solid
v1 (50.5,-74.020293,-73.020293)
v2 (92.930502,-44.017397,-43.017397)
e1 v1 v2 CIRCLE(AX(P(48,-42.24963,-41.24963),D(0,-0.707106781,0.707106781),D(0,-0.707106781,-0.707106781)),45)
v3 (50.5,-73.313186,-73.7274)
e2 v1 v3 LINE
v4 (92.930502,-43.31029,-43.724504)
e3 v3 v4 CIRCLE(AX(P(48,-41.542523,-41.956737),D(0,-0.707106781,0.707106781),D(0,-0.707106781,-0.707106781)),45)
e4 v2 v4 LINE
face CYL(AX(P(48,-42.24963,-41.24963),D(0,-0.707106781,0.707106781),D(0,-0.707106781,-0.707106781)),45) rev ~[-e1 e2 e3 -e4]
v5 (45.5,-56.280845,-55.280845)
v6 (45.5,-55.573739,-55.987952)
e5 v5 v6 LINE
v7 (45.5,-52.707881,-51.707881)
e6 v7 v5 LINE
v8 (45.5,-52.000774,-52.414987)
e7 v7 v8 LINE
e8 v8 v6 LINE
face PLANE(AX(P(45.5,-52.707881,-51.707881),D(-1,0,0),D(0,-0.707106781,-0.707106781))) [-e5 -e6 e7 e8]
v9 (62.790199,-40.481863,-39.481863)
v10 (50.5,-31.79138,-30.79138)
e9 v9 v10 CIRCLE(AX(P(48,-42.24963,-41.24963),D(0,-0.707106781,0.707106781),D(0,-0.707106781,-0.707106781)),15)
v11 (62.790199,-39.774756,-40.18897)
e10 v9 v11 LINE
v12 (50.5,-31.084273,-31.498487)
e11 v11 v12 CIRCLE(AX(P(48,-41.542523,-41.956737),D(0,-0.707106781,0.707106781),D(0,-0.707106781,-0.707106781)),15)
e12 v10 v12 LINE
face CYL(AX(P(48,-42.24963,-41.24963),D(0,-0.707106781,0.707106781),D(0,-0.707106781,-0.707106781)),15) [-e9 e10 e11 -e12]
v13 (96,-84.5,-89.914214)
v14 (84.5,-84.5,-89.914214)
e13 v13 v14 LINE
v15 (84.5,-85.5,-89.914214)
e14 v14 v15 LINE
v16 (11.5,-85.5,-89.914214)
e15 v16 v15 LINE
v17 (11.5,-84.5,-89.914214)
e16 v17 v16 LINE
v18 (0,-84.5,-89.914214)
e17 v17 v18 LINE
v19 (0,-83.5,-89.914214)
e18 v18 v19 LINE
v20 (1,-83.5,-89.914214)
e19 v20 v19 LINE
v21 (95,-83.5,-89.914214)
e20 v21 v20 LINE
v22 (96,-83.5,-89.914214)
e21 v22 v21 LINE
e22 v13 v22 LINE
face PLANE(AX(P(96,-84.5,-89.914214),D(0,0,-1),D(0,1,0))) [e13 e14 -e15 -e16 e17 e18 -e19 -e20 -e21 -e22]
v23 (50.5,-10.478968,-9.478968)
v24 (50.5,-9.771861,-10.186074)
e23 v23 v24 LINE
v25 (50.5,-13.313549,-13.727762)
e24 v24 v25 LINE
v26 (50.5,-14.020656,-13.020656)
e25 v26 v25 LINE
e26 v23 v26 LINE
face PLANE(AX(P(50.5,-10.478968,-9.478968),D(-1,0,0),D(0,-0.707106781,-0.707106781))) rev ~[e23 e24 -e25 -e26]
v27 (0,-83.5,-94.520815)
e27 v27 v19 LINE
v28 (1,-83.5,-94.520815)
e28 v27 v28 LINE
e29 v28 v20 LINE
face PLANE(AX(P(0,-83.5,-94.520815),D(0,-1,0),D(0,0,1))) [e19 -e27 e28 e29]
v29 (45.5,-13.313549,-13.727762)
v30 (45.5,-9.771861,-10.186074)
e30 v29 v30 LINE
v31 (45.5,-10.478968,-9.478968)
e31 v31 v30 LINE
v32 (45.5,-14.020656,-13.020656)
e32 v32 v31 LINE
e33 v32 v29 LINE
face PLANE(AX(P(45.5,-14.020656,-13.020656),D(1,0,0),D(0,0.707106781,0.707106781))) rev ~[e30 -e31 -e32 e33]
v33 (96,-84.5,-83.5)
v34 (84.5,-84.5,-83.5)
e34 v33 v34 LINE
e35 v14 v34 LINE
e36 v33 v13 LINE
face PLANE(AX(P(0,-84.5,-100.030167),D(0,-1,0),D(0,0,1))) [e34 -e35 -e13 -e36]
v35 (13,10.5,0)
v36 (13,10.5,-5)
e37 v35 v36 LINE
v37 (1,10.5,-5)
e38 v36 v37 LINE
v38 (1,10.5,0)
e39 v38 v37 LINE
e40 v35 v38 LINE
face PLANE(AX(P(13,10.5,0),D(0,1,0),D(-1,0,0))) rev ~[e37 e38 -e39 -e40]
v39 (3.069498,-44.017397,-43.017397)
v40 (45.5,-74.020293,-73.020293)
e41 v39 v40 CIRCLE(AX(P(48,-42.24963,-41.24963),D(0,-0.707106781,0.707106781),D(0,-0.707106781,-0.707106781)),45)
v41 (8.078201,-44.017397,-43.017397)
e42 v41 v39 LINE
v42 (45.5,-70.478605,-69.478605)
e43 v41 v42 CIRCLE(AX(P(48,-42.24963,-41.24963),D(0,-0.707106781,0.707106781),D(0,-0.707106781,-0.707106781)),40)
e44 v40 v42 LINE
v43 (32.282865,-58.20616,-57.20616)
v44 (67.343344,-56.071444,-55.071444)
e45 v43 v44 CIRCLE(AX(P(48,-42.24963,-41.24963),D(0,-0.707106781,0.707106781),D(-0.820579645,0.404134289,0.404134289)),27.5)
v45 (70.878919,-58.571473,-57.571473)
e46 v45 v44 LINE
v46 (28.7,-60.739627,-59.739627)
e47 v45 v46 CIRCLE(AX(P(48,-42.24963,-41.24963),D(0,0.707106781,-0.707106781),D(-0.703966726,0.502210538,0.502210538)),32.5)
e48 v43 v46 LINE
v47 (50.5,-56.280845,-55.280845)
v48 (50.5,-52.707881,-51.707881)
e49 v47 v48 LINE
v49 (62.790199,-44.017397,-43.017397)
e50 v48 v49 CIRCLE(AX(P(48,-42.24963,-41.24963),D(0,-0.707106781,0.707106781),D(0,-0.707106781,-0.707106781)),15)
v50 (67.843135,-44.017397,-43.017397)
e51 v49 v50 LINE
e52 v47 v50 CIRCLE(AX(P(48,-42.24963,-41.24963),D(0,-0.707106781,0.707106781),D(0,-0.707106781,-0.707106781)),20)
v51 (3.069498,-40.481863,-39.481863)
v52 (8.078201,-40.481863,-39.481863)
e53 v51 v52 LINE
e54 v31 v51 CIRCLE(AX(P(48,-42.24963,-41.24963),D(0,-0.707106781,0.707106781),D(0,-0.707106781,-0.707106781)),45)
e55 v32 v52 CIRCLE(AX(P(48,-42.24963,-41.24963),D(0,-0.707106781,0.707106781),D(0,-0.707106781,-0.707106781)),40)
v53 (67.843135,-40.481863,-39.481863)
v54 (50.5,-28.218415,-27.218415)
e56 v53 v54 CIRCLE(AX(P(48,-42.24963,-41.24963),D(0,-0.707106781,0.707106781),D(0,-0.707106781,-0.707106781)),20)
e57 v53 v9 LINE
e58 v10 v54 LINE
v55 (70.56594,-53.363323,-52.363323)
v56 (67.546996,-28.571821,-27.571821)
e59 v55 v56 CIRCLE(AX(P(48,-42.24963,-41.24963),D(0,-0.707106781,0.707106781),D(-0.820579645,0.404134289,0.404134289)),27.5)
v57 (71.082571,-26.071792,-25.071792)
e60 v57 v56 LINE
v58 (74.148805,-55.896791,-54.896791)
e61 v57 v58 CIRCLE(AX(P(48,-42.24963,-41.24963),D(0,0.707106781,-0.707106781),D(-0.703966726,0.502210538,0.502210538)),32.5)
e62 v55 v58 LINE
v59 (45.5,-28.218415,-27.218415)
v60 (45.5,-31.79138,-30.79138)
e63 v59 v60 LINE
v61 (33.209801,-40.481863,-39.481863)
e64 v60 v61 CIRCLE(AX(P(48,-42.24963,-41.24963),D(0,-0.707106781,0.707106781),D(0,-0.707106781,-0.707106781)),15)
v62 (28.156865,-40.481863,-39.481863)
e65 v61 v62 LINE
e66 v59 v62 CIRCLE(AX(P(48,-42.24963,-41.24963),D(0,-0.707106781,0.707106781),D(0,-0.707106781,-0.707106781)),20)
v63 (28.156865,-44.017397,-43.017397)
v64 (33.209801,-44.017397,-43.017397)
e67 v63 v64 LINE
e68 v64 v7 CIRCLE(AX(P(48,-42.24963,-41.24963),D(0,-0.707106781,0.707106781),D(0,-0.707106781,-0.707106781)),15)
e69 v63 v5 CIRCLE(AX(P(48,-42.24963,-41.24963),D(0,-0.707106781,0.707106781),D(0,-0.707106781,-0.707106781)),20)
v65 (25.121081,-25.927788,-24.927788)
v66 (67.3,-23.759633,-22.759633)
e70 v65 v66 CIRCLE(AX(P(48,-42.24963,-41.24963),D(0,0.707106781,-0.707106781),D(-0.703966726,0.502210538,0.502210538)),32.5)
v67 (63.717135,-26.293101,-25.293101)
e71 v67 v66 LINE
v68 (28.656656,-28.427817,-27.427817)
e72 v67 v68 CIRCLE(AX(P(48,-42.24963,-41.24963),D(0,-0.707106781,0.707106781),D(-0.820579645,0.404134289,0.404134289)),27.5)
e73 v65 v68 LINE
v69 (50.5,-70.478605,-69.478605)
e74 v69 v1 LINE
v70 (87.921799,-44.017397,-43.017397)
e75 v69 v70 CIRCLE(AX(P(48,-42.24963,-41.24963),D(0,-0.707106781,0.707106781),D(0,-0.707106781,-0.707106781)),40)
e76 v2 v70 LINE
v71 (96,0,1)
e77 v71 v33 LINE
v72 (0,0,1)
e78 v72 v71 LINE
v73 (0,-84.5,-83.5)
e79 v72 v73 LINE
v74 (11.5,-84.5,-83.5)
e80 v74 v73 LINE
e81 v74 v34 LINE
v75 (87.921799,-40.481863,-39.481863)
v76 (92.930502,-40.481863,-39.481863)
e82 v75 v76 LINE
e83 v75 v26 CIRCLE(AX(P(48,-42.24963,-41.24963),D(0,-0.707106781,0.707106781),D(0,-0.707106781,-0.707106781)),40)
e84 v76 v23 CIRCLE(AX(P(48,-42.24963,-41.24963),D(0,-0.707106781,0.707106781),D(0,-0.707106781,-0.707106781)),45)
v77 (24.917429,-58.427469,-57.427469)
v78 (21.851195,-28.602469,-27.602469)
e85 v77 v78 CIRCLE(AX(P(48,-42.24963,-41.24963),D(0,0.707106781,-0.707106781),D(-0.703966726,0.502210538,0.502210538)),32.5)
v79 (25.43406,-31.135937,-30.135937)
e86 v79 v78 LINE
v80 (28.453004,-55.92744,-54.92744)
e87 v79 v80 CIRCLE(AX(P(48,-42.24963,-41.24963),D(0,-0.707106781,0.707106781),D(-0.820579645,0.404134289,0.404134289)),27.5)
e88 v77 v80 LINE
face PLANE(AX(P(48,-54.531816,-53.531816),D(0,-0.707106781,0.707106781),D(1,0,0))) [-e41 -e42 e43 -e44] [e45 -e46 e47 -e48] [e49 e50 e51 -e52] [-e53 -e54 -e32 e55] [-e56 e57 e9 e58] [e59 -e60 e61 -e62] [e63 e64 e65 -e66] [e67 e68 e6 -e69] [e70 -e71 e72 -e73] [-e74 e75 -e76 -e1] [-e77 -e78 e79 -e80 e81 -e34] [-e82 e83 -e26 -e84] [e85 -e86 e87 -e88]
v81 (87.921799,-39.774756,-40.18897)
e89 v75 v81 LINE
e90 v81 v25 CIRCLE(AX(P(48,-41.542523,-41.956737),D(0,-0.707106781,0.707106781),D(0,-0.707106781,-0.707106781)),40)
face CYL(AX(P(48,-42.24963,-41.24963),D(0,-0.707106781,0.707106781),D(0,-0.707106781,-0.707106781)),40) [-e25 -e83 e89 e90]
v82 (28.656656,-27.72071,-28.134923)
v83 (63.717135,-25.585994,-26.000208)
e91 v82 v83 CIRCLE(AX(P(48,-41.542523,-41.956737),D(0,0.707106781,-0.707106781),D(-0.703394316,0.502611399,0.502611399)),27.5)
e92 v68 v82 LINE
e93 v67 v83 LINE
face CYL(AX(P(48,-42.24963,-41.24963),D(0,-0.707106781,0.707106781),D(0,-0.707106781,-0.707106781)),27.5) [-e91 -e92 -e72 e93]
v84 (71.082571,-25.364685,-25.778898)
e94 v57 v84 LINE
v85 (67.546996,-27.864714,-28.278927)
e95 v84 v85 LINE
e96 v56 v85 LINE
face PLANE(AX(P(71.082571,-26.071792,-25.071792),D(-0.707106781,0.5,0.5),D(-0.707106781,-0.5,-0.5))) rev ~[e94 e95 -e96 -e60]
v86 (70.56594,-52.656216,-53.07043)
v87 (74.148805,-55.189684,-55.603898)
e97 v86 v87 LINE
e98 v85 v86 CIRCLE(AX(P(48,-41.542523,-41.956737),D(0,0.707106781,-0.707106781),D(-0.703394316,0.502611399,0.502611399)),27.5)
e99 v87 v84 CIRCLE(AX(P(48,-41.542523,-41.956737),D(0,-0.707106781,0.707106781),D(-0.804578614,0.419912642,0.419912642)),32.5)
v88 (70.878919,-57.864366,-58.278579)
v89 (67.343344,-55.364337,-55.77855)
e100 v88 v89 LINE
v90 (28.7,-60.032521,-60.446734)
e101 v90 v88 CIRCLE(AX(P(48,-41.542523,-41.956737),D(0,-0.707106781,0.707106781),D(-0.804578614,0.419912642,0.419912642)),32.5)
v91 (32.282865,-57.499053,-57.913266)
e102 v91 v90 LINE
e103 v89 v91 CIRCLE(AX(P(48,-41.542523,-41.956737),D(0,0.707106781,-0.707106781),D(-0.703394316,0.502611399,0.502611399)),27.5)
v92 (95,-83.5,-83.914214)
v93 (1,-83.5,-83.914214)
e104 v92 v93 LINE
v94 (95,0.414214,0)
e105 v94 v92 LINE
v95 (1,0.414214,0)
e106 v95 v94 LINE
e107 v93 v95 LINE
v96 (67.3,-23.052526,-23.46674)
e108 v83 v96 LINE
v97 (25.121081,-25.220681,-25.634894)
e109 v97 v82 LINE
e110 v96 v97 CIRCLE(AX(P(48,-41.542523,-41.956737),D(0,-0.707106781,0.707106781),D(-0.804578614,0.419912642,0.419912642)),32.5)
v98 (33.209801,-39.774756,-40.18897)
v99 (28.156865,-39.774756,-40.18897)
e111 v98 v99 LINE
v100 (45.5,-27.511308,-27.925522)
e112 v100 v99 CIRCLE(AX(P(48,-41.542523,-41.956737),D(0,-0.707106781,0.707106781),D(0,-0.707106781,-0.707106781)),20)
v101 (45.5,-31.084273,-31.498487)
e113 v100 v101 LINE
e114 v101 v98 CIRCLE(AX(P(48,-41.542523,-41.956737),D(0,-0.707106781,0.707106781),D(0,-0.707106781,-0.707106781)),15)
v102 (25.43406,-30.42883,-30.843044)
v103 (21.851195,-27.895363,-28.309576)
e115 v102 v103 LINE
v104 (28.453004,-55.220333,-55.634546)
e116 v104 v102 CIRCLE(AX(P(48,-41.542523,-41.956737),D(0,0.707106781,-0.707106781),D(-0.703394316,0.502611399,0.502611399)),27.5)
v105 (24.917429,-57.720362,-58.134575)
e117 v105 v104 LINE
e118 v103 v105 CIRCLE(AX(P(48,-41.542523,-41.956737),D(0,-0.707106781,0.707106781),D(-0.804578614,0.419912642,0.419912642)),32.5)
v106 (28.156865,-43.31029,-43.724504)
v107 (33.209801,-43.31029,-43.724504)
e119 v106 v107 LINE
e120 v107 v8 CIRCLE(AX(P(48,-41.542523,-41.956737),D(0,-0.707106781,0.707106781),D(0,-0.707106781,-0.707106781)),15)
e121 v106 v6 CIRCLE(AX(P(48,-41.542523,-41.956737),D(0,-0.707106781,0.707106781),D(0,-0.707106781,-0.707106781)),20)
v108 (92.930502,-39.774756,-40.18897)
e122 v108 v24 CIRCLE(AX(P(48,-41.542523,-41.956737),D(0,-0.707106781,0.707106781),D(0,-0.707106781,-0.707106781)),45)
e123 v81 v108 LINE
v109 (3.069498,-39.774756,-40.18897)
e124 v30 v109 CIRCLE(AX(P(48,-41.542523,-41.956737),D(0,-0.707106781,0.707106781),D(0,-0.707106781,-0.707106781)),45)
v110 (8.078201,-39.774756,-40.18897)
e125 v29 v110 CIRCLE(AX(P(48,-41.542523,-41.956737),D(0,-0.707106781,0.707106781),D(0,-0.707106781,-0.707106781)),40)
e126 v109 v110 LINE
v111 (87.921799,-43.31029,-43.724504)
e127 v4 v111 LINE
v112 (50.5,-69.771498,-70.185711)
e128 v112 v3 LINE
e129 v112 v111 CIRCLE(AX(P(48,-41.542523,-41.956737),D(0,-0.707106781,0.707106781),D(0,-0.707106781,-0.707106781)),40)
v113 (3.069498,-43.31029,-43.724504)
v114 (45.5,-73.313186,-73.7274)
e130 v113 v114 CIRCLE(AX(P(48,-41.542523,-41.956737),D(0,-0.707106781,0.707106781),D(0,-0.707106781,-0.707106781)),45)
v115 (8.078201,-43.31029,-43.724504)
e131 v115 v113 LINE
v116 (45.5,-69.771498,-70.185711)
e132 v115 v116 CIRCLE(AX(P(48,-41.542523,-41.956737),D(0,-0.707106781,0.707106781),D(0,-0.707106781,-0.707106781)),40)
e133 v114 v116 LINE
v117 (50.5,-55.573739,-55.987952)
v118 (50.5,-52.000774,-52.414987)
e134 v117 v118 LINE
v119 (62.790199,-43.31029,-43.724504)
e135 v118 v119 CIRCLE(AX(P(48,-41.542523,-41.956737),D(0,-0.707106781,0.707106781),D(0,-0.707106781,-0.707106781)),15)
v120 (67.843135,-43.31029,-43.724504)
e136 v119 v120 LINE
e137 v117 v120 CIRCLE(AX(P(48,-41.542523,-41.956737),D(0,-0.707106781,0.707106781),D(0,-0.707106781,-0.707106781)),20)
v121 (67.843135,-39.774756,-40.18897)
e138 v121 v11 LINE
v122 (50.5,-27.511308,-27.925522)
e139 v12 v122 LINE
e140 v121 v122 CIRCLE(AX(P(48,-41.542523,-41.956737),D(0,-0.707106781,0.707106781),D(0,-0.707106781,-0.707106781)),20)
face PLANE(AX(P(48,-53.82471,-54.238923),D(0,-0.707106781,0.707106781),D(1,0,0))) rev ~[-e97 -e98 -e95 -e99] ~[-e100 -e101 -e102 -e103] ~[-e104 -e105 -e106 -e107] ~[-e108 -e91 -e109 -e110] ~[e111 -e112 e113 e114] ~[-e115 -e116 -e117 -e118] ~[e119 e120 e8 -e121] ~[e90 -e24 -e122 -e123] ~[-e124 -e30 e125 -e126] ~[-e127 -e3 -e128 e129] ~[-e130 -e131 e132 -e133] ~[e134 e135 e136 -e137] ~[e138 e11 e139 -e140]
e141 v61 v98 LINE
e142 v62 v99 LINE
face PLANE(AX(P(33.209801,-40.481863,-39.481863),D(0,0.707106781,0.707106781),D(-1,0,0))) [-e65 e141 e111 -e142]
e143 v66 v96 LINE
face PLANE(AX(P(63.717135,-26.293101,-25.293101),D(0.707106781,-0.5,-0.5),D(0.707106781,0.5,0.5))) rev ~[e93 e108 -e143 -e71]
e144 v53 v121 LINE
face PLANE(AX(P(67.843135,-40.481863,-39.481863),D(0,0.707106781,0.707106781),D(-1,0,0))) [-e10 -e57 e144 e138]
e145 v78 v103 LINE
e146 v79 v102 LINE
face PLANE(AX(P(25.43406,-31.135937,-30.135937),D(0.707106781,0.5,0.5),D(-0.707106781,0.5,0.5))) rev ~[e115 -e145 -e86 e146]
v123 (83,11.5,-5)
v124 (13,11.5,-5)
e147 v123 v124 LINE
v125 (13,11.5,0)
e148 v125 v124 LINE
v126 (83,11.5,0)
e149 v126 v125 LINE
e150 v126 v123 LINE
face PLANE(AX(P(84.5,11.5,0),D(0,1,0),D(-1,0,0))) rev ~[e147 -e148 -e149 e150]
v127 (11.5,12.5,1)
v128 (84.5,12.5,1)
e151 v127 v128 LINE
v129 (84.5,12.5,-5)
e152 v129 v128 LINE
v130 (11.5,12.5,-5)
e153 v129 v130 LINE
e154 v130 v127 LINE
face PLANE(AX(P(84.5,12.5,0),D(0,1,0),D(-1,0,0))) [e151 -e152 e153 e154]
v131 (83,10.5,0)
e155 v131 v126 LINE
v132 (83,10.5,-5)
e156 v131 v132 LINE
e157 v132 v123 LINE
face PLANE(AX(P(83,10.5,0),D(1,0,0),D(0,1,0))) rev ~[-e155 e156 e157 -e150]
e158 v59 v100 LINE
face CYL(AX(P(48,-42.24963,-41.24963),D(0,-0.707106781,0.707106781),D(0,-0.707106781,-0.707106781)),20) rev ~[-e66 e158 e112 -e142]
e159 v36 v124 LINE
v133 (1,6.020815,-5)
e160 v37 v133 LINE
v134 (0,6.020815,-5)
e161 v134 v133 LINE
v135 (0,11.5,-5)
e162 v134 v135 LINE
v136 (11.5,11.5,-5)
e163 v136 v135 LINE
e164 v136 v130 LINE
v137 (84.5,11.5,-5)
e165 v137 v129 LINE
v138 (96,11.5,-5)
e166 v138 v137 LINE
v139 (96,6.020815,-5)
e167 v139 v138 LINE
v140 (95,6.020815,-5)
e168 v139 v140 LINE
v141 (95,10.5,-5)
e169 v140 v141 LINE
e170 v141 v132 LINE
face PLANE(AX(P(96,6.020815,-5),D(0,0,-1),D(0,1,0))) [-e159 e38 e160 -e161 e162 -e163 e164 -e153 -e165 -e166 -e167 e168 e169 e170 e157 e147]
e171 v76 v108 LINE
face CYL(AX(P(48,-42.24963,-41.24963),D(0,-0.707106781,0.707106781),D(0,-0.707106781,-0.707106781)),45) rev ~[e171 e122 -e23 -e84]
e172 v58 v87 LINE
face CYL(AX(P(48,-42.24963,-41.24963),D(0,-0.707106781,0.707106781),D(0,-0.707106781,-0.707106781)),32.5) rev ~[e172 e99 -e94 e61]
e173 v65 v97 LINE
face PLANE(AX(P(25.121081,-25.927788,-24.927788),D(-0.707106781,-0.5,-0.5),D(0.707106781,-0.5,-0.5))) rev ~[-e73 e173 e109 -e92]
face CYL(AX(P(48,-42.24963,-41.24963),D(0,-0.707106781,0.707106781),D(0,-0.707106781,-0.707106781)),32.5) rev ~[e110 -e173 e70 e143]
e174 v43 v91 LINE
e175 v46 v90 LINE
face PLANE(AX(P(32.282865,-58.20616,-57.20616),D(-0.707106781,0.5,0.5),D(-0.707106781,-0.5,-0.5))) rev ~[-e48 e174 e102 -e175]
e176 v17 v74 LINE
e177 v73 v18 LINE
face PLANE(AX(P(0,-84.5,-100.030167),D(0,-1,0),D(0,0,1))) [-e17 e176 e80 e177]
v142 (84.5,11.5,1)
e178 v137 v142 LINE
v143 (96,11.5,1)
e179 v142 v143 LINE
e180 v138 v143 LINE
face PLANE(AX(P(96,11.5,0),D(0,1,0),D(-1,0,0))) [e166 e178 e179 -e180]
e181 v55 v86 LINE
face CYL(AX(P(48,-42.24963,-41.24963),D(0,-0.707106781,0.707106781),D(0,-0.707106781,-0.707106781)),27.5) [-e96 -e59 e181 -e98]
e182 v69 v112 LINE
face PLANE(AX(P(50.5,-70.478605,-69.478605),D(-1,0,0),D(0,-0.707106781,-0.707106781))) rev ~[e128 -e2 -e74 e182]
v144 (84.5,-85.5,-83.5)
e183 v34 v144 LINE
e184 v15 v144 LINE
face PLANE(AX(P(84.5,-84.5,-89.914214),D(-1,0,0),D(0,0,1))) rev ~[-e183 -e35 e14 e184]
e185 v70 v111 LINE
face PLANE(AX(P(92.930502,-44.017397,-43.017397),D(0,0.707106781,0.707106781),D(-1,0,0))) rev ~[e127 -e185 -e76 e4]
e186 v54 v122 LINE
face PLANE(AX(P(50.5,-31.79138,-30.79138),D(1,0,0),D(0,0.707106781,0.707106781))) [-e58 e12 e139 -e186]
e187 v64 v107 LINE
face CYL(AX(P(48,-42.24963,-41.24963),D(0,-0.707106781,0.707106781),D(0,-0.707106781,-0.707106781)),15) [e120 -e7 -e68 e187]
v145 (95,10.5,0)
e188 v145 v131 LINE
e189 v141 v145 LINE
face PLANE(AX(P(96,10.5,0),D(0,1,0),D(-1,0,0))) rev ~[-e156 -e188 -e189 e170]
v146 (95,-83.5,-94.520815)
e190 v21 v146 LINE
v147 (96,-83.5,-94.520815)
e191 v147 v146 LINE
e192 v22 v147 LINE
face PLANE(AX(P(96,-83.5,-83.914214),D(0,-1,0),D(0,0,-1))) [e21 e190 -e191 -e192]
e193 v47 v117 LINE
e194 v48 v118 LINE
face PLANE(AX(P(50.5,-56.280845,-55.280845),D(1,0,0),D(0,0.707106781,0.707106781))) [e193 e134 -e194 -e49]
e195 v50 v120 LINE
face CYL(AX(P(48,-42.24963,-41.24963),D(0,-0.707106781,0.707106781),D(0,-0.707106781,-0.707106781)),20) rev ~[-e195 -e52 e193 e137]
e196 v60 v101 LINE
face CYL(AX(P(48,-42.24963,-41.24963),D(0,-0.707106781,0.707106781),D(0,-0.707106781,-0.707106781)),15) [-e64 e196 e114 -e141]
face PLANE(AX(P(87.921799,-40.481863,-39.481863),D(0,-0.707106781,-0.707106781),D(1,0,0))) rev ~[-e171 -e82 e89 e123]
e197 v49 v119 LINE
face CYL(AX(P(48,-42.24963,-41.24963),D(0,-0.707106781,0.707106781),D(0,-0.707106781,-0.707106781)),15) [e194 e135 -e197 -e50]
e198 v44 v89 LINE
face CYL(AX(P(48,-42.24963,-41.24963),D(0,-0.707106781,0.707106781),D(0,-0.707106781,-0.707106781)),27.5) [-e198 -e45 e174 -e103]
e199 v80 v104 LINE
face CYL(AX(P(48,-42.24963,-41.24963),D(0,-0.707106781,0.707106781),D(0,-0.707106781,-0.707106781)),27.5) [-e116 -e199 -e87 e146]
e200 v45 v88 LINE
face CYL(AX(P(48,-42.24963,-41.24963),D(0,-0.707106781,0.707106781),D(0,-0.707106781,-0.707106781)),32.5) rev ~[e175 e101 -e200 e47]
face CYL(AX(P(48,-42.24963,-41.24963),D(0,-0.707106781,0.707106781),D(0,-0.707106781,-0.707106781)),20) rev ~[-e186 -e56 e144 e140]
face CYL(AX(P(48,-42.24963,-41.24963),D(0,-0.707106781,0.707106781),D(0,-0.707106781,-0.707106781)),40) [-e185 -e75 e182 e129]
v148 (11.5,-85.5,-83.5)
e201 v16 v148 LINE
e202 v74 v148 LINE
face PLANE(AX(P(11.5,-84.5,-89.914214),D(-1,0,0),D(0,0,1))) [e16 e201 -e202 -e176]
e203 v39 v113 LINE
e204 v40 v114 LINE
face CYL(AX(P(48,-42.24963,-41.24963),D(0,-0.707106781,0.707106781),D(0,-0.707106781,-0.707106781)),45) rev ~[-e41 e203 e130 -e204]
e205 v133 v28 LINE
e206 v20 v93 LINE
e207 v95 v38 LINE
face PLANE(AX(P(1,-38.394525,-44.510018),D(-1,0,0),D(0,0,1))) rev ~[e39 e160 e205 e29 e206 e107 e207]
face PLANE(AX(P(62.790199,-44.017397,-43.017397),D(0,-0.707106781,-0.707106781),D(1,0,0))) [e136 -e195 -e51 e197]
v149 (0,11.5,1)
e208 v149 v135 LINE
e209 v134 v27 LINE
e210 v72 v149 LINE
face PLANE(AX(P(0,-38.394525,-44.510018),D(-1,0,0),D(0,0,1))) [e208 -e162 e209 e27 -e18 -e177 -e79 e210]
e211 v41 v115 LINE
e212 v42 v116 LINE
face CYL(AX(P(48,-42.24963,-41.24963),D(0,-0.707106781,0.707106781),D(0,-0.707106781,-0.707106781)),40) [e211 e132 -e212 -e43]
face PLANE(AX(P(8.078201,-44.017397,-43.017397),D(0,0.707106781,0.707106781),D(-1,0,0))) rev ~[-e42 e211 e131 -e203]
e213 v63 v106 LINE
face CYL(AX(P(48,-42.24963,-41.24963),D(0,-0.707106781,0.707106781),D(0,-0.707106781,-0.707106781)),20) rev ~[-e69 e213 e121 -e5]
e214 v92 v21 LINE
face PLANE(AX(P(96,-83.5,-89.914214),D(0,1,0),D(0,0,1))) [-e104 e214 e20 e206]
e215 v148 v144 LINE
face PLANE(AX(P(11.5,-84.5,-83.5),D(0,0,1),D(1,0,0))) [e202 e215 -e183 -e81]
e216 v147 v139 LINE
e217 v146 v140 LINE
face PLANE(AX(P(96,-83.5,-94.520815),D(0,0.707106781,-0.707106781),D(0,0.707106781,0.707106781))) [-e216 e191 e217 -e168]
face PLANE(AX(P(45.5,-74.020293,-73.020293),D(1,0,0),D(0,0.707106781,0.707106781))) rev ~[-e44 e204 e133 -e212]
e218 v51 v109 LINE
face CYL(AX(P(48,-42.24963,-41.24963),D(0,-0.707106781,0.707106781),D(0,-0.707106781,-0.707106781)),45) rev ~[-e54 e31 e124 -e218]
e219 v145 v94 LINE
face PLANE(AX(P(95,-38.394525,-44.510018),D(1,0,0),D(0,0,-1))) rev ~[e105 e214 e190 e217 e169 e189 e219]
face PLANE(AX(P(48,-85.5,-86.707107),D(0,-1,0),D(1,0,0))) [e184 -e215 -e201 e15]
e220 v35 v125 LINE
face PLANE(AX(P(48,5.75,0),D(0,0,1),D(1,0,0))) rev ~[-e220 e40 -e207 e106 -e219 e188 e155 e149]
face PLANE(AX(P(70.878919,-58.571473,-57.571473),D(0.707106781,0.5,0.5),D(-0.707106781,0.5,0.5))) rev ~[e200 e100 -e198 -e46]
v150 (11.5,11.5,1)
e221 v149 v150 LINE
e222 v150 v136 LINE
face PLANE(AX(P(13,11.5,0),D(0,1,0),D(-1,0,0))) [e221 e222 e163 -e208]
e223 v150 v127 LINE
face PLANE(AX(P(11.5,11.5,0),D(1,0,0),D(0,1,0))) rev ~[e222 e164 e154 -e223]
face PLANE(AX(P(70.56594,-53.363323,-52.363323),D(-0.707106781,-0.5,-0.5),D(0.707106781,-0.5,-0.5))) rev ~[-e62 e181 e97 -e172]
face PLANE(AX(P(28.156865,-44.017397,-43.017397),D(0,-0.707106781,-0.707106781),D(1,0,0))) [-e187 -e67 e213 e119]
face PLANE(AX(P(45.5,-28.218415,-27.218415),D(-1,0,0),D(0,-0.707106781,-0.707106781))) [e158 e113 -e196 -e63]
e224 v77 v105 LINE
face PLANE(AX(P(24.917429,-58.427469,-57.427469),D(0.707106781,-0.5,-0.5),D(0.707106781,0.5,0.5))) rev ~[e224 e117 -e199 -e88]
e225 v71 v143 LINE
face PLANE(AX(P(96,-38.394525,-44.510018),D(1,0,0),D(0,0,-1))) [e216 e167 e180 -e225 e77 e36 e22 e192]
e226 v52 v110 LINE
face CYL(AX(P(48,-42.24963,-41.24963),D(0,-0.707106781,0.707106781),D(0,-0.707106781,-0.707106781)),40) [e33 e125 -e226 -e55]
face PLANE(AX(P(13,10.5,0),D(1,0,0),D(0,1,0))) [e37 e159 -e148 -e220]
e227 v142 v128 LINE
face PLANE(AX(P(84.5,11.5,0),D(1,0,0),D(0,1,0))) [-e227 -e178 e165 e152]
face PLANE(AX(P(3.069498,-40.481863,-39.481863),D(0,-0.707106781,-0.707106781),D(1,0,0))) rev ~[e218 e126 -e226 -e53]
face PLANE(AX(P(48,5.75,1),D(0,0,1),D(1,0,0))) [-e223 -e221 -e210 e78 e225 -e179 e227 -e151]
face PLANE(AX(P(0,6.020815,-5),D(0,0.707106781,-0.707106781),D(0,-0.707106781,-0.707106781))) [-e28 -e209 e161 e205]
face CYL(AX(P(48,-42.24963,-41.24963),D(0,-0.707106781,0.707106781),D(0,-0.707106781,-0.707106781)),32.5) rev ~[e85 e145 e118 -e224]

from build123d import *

# Parameters (mm, degrees)
SKETCH1_W            = 96
SKETCH1_H            = 11.5
BOSS_EXTRUDE1_DEPTH  = 1
BOSS_EXTRUDE2_DEPTH  = 96
SKETCH3_W            = 100.030166713
SKETCH3_H            = 53.267661774
CUT_EXTRUDE1_DEPTH   = 96
SKETCH4_W            = 73
SKETCH4_H            = 1
BOSS_EXTRUDE3_DEPTH  = 1
SKETCH5_W            = 73
SKETCH5_H            = 1
BOSS_EXTRUDE4_DEPTH  = 5
SKETCH6_W            = 13
SKETCH6_H            = 1
BOSS_EXTRUDE6_DEPTH  = 5
SKETCH7_W            = 13
SKETCH7_H            = 1
BOSS_EXTRUDE7_DEPTH  = 5
BOSS_EXTRUDE8_DEPTH  = 96
SKETCH10_W           = 73
SKETCH10_H           = 6.414213562
BOSS_EXTRUDE9_DEPTH  = 1
BOSS_EXTRUDE10_DEPTH = 1
BOSS_EXTRUDE11_DEPTH = 1
SKETCH13_R           = 45
SKETCH13_R_2         = 40
SKETCH13_R_3         = 32.5
SKETCH13_R_4         = 27.5
SKETCH13_R_5         = 20
SKETCH13_R_6         = 15
CUT_EXTRUDE2_DEPTH   = 10
BOSS_EXTRUDE12_DEPTH = 1
CIRPATTERN1_COUNT    = 4
BOSS_EXTRUDE14_DEPTH = 1
CIRPATTERN2_COUNT    = 4
BOSS_EXTRUDE15_DEPTH = 1
CIRPATTERN3_COUNT    = 4


with BuildPart() as part:
    # Sketch1 → Boss-Extrude1 (new body)
    with BuildSketch(Plane.XY):
        with Locations((48, 5.75)):
            Rectangle(SKETCH1_W, SKETCH1_H)
    extrude(amount=BOSS_EXTRUDE1_DEPTH)

    # Sketch2 → Boss-Extrude2 (add)
    with BuildSketch(Plane.ZY):
        Polygon((1, 0), (-86.974134086, -87.974134086), (-87.681240867, -87.267027305), (0, 0.414213562), align=None)
    extrude(amount=-BOSS_EXTRUDE2_DEPTH)

    # Sketch3 → Cut-Extrude1 (cut)
    with BuildSketch(Plane.ZY):
        with Locations((-50.015083356, -111.133830887)):
            Rectangle(SKETCH3_W, SKETCH3_H)
    extrude(amount=-CUT_EXTRUDE1_DEPTH, mode=Mode.SUBTRACT)

    # Sketch4 → Boss-Extrude3 (add)
    with BuildSketch(Plane(origin=(0, 11.5, 0), x_dir=(1, 0, 0), z_dir=(0, 1, 0))):
        with Locations((48, -0.5)):
            Rectangle(SKETCH4_W, SKETCH4_H)
    extrude(amount=BOSS_EXTRUDE3_DEPTH)

    # Sketch5 → Boss-Extrude4 (add)
    with BuildSketch(Plane(origin=(0, 0, 0), x_dir=(-1, 0, 0), z_dir=(0, 0, -1))):
        with Locations((-48, 12)):
            Rectangle(SKETCH5_W, SKETCH5_H)
    extrude(amount=BOSS_EXTRUDE4_DEPTH)

    # Sketch6 → Boss-Extrude6 (add)
    with BuildSketch(Plane(origin=(0, 0, 0), x_dir=(-1, 0, 0), z_dir=(0, 0, -1))):
        with Locations((-6.5, 11)):
            Rectangle(SKETCH6_W, SKETCH6_H)
    extrude(amount=BOSS_EXTRUDE6_DEPTH)

    # Sketch7 → Boss-Extrude7 (add)
    with BuildSketch(Plane(origin=(0, 0, 0), x_dir=(-1, 0, 0), z_dir=(0, 0, -1))):
        with Locations((-89.5, 11)):
            Rectangle(SKETCH7_W, SKETCH7_H)
    extrude(amount=BOSS_EXTRUDE7_DEPTH)

    # Sketch8 → Boss-Extrude8 (add)
    with BuildSketch(Plane(origin=(96, 0, 0), x_dir=(0, 0, -1), z_dir=(1, 0, 0))):
        Polygon((83.5, -84.5), (89.914213562, -84.5), (89.914213562, -83.5), (82.5, -83.5), align=None)
    extrude(amount=-BOSS_EXTRUDE8_DEPTH)

    # Sketch10 → Boss-Extrude9 (add)
    with BuildSketch(Plane.XZ.offset(84.5)):
        with Locations((48, -86.707106781)):
            Rectangle(SKETCH10_W, SKETCH10_H)
    extrude(amount=BOSS_EXTRUDE9_DEPTH)

    # Sketch11 → Boss-Extrude10 (add)
    with BuildSketch(Plane.ZY):
        Polygon((-5, 10.5), (-5, 6.02081528), (-94.52081528, -83.5), (-83.914213562, -83.5), (0, 0.414213562), (0, 10.5), align=None)
    extrude(amount=-BOSS_EXTRUDE10_DEPTH)

    # Sketch12 → Boss-Extrude11 (add)
    with BuildSketch(Plane(origin=(96, 0, 0), x_dir=(0, 0, -1), z_dir=(1, 0, 0))):
        Polygon((5, 10.5), (0, 10.5), (0, 0.414213562), (83.914213562, -83.5), (94.52081528, -83.5), (5, 6.02081528), align=None)
    extrude(amount=-BOSS_EXTRUDE11_DEPTH)

    # Sketch13 → Cut-Extrude2 (cut)
    # profile 1 of 3: a face of its own
    with BuildSketch(Plane(origin=(0, -0.5, 0.5), x_dir=(1, 0, 0), z_dir=(0, -0.7071067811865486, 0.7071067811865465))):
        with Locations(Location((48, -59.042893219, 0), (0, 0, 270))):
            Circle(SKETCH13_R)
        with Locations(Location((48, -59.042893219, 0), (0, 0, 270))):
            Circle(SKETCH13_R_2, mode=Mode.SUBTRACT)
    # profile 2 of 3: a face of its own
    with BuildSketch(Plane(origin=(0, -0.5, 0.5), x_dir=(1, 0, 0), z_dir=(0, -0.7071067811865486, 0.7071067811865465))):
        with Locations(Location((48, -59.042893219, 0), (0, 0, 270))):
            Circle(SKETCH13_R_3)
        with Locations(Location((48, -59.042893219, 0), (0, 0, 270))):
            Circle(SKETCH13_R_4, mode=Mode.SUBTRACT)
    # profile 3 of 3: a face of its own
    with BuildSketch(Plane(origin=(0, -0.5, 0.5), x_dir=(1, 0, 0), z_dir=(0, -0.7071067811865486, 0.7071067811865465))):
        with Locations(Location((48, -59.042893219, 0), (0, 0, 270))):
            Circle(SKETCH13_R_5)
        with Locations(Location((48, -59.042893219, 0), (0, 0, 270))):
            Circle(SKETCH13_R_6, mode=Mode.SUBTRACT)
    extrude(amount=-CUT_EXTRUDE2_DEPTH, mode=Mode.SUBTRACT)


with BuildPart() as cut_extrude2_piece_1:
    # of the separate pieces the step leaves, piece 1, a body of its own (cut_extrude2_pieces)
    add(part.part.solids().sort_by_distance((0, 11.5, 1))[0])



with BuildPart() as cut_extrude2_piece_2:
    # of the separate pieces the step leaves, piece 2, a body of its own (cut_extrude2_pieces)
    add(part.part.solids().sort_by_distance((48, -70.533901423, -69.533901423))[0])


with BuildPart() as cut_extrude2_piece_3:
    # of the separate pieces the step leaves, piece 3, a body of its own (cut_extrude2_pieces)
    add(part.part.solids().sort_by_distance((48, -61.695066659, -60.695066659))[0])



with BuildPart() as cut_extrude2_piece_4:
    # of the separate pieces the step leaves, piece 4, a body of its own (cut_extrude2_pieces)
    add(part.part.solids().sort_by_distance((48, -52.856231894, -51.856231894))[0])


with BuildPart() as cut_extrude2_piece_1_1:
    add(cut_extrude2_piece_1.part)

    add(cut_extrude2_piece_2.part)  # Boss-Extrude12 merges Cut-Extrude2 piece 2
    # Sketch14 → Boss-Extrude12 (add)
    with BuildSketch(Plane(origin=(0, -0.5, 0.5), x_dir=(1, 0, 0), z_dir=(0, -0.7071067811865486, 0.7071067811865465))):
        with BuildLine():
            Line((45.5, -103.973395108), (45.5, -98.964691775))
            ThreePointArc((45.5, -98.964691775), (48, -99.042893219), (50.5, -98.964691775))
            Line((50.5, -98.964691775), (50.5, -103.973395108))
            ThreePointArc((50.5, -103.973395108), (48, -104.042893219), (45.5, -103.973395108))
        make_face()
    boss_extrude12 = extrude(amount=-BOSS_EXTRUDE12_DEPTH)

    # CirPattern1: Boss-Extrude12 ×4 about axis
    cirpattern1_axis = Axis((48, -41.749630176, -41.749630176), (0, -0.7071067811865476, 0.7071067811865476))
    for i in range(1, CIRPATTERN1_COUNT):
        add(boss_extrude12.rotate(cirpattern1_axis, i * 360 / CIRPATTERN1_COUNT))



with BuildPart() as cut_extrude2_piece_3_1:
    add(cut_extrude2_piece_3.part)

    add(cut_extrude2_piece_4.part)  # Boss-Extrude14 merges Cut-Extrude2 piece 4
    # Sketch16 → Boss-Extrude14 (add)
    with BuildSketch(Plane(origin=(0, -0.5, 0.5), x_dir=(1, 0, 0), z_dir=(0, -0.7071067811865486, 0.7071067811865465))):
        with BuildLine():
            Line((45.5, -73.833092677), (45.5, -78.886028052))
            ThreePointArc((45.5, -78.886028052), (48, -79.042893219), (50.5, -78.886028052))
            Line((50.5, -78.886028052), (50.5, -73.833092677))
            ThreePointArc((50.5, -73.833092677), (48, -74.042893219), (45.5, -73.833092677))
        make_face()
    boss_extrude14 = extrude(amount=-BOSS_EXTRUDE14_DEPTH)

    # CirPattern2: Boss-Extrude14 ×4 about axis
    cirpattern2_axis = Axis((48, -41.749630176, -41.749630176), (0, -0.7071067811865476, 0.7071067811865476))
    for i in range(1, CIRPATTERN2_COUNT):
        add(boss_extrude14.rotate(cirpattern2_axis, i * 360 / CIRPATTERN2_COUNT))


with BuildPart() as cut_extrude2_piece_1_2:
    add(cut_extrude2_piece_1_1.part)

    add(cut_extrude2_piece_3_1.part)  # Boss-Extrude15 merges Cut-Extrude2 piece 3
    # Sketch17 → Boss-Extrude15 (add)
    with BuildSketch(Plane(origin=(0, -0.5, 0.5), x_dir=(1, 0, 0), z_dir=(0, -0.7071067811865486, 0.7071067811865465))):
        with BuildLine():
            Line((25.434059771, -43.325757934), (21.851195056, -39.742893219))
            ThreePointArc((21.851195056, -39.742893219), (23.413288551, -37.788631996), (25.121081398, -35.960322227))
            Line((25.121081398, -35.960322227), (28.656656321, -39.49589715))
            ThreePointArc((28.656656321, -39.49589715), (26.958042443, -41.337356735), (25.434059771, -43.325757934))
        make_face()
    boss_extrude15 = extrude(amount=-BOSS_EXTRUDE15_DEPTH)

    # CirPattern3: Boss-Extrude15 ×4 about axis
    cirpattern3_axis = Axis((48, -41.749630176, -41.749630176), (0, -0.7071067811865487, 0.7071067811865465))
    for i in range(1, CIRPATTERN3_COUNT):
        add(boss_extrude15.rotate(cirpattern3_axis, i * 360 / CIRPATTERN3_COUNT))


solid = cut_extrude2_piece_1_2.part
